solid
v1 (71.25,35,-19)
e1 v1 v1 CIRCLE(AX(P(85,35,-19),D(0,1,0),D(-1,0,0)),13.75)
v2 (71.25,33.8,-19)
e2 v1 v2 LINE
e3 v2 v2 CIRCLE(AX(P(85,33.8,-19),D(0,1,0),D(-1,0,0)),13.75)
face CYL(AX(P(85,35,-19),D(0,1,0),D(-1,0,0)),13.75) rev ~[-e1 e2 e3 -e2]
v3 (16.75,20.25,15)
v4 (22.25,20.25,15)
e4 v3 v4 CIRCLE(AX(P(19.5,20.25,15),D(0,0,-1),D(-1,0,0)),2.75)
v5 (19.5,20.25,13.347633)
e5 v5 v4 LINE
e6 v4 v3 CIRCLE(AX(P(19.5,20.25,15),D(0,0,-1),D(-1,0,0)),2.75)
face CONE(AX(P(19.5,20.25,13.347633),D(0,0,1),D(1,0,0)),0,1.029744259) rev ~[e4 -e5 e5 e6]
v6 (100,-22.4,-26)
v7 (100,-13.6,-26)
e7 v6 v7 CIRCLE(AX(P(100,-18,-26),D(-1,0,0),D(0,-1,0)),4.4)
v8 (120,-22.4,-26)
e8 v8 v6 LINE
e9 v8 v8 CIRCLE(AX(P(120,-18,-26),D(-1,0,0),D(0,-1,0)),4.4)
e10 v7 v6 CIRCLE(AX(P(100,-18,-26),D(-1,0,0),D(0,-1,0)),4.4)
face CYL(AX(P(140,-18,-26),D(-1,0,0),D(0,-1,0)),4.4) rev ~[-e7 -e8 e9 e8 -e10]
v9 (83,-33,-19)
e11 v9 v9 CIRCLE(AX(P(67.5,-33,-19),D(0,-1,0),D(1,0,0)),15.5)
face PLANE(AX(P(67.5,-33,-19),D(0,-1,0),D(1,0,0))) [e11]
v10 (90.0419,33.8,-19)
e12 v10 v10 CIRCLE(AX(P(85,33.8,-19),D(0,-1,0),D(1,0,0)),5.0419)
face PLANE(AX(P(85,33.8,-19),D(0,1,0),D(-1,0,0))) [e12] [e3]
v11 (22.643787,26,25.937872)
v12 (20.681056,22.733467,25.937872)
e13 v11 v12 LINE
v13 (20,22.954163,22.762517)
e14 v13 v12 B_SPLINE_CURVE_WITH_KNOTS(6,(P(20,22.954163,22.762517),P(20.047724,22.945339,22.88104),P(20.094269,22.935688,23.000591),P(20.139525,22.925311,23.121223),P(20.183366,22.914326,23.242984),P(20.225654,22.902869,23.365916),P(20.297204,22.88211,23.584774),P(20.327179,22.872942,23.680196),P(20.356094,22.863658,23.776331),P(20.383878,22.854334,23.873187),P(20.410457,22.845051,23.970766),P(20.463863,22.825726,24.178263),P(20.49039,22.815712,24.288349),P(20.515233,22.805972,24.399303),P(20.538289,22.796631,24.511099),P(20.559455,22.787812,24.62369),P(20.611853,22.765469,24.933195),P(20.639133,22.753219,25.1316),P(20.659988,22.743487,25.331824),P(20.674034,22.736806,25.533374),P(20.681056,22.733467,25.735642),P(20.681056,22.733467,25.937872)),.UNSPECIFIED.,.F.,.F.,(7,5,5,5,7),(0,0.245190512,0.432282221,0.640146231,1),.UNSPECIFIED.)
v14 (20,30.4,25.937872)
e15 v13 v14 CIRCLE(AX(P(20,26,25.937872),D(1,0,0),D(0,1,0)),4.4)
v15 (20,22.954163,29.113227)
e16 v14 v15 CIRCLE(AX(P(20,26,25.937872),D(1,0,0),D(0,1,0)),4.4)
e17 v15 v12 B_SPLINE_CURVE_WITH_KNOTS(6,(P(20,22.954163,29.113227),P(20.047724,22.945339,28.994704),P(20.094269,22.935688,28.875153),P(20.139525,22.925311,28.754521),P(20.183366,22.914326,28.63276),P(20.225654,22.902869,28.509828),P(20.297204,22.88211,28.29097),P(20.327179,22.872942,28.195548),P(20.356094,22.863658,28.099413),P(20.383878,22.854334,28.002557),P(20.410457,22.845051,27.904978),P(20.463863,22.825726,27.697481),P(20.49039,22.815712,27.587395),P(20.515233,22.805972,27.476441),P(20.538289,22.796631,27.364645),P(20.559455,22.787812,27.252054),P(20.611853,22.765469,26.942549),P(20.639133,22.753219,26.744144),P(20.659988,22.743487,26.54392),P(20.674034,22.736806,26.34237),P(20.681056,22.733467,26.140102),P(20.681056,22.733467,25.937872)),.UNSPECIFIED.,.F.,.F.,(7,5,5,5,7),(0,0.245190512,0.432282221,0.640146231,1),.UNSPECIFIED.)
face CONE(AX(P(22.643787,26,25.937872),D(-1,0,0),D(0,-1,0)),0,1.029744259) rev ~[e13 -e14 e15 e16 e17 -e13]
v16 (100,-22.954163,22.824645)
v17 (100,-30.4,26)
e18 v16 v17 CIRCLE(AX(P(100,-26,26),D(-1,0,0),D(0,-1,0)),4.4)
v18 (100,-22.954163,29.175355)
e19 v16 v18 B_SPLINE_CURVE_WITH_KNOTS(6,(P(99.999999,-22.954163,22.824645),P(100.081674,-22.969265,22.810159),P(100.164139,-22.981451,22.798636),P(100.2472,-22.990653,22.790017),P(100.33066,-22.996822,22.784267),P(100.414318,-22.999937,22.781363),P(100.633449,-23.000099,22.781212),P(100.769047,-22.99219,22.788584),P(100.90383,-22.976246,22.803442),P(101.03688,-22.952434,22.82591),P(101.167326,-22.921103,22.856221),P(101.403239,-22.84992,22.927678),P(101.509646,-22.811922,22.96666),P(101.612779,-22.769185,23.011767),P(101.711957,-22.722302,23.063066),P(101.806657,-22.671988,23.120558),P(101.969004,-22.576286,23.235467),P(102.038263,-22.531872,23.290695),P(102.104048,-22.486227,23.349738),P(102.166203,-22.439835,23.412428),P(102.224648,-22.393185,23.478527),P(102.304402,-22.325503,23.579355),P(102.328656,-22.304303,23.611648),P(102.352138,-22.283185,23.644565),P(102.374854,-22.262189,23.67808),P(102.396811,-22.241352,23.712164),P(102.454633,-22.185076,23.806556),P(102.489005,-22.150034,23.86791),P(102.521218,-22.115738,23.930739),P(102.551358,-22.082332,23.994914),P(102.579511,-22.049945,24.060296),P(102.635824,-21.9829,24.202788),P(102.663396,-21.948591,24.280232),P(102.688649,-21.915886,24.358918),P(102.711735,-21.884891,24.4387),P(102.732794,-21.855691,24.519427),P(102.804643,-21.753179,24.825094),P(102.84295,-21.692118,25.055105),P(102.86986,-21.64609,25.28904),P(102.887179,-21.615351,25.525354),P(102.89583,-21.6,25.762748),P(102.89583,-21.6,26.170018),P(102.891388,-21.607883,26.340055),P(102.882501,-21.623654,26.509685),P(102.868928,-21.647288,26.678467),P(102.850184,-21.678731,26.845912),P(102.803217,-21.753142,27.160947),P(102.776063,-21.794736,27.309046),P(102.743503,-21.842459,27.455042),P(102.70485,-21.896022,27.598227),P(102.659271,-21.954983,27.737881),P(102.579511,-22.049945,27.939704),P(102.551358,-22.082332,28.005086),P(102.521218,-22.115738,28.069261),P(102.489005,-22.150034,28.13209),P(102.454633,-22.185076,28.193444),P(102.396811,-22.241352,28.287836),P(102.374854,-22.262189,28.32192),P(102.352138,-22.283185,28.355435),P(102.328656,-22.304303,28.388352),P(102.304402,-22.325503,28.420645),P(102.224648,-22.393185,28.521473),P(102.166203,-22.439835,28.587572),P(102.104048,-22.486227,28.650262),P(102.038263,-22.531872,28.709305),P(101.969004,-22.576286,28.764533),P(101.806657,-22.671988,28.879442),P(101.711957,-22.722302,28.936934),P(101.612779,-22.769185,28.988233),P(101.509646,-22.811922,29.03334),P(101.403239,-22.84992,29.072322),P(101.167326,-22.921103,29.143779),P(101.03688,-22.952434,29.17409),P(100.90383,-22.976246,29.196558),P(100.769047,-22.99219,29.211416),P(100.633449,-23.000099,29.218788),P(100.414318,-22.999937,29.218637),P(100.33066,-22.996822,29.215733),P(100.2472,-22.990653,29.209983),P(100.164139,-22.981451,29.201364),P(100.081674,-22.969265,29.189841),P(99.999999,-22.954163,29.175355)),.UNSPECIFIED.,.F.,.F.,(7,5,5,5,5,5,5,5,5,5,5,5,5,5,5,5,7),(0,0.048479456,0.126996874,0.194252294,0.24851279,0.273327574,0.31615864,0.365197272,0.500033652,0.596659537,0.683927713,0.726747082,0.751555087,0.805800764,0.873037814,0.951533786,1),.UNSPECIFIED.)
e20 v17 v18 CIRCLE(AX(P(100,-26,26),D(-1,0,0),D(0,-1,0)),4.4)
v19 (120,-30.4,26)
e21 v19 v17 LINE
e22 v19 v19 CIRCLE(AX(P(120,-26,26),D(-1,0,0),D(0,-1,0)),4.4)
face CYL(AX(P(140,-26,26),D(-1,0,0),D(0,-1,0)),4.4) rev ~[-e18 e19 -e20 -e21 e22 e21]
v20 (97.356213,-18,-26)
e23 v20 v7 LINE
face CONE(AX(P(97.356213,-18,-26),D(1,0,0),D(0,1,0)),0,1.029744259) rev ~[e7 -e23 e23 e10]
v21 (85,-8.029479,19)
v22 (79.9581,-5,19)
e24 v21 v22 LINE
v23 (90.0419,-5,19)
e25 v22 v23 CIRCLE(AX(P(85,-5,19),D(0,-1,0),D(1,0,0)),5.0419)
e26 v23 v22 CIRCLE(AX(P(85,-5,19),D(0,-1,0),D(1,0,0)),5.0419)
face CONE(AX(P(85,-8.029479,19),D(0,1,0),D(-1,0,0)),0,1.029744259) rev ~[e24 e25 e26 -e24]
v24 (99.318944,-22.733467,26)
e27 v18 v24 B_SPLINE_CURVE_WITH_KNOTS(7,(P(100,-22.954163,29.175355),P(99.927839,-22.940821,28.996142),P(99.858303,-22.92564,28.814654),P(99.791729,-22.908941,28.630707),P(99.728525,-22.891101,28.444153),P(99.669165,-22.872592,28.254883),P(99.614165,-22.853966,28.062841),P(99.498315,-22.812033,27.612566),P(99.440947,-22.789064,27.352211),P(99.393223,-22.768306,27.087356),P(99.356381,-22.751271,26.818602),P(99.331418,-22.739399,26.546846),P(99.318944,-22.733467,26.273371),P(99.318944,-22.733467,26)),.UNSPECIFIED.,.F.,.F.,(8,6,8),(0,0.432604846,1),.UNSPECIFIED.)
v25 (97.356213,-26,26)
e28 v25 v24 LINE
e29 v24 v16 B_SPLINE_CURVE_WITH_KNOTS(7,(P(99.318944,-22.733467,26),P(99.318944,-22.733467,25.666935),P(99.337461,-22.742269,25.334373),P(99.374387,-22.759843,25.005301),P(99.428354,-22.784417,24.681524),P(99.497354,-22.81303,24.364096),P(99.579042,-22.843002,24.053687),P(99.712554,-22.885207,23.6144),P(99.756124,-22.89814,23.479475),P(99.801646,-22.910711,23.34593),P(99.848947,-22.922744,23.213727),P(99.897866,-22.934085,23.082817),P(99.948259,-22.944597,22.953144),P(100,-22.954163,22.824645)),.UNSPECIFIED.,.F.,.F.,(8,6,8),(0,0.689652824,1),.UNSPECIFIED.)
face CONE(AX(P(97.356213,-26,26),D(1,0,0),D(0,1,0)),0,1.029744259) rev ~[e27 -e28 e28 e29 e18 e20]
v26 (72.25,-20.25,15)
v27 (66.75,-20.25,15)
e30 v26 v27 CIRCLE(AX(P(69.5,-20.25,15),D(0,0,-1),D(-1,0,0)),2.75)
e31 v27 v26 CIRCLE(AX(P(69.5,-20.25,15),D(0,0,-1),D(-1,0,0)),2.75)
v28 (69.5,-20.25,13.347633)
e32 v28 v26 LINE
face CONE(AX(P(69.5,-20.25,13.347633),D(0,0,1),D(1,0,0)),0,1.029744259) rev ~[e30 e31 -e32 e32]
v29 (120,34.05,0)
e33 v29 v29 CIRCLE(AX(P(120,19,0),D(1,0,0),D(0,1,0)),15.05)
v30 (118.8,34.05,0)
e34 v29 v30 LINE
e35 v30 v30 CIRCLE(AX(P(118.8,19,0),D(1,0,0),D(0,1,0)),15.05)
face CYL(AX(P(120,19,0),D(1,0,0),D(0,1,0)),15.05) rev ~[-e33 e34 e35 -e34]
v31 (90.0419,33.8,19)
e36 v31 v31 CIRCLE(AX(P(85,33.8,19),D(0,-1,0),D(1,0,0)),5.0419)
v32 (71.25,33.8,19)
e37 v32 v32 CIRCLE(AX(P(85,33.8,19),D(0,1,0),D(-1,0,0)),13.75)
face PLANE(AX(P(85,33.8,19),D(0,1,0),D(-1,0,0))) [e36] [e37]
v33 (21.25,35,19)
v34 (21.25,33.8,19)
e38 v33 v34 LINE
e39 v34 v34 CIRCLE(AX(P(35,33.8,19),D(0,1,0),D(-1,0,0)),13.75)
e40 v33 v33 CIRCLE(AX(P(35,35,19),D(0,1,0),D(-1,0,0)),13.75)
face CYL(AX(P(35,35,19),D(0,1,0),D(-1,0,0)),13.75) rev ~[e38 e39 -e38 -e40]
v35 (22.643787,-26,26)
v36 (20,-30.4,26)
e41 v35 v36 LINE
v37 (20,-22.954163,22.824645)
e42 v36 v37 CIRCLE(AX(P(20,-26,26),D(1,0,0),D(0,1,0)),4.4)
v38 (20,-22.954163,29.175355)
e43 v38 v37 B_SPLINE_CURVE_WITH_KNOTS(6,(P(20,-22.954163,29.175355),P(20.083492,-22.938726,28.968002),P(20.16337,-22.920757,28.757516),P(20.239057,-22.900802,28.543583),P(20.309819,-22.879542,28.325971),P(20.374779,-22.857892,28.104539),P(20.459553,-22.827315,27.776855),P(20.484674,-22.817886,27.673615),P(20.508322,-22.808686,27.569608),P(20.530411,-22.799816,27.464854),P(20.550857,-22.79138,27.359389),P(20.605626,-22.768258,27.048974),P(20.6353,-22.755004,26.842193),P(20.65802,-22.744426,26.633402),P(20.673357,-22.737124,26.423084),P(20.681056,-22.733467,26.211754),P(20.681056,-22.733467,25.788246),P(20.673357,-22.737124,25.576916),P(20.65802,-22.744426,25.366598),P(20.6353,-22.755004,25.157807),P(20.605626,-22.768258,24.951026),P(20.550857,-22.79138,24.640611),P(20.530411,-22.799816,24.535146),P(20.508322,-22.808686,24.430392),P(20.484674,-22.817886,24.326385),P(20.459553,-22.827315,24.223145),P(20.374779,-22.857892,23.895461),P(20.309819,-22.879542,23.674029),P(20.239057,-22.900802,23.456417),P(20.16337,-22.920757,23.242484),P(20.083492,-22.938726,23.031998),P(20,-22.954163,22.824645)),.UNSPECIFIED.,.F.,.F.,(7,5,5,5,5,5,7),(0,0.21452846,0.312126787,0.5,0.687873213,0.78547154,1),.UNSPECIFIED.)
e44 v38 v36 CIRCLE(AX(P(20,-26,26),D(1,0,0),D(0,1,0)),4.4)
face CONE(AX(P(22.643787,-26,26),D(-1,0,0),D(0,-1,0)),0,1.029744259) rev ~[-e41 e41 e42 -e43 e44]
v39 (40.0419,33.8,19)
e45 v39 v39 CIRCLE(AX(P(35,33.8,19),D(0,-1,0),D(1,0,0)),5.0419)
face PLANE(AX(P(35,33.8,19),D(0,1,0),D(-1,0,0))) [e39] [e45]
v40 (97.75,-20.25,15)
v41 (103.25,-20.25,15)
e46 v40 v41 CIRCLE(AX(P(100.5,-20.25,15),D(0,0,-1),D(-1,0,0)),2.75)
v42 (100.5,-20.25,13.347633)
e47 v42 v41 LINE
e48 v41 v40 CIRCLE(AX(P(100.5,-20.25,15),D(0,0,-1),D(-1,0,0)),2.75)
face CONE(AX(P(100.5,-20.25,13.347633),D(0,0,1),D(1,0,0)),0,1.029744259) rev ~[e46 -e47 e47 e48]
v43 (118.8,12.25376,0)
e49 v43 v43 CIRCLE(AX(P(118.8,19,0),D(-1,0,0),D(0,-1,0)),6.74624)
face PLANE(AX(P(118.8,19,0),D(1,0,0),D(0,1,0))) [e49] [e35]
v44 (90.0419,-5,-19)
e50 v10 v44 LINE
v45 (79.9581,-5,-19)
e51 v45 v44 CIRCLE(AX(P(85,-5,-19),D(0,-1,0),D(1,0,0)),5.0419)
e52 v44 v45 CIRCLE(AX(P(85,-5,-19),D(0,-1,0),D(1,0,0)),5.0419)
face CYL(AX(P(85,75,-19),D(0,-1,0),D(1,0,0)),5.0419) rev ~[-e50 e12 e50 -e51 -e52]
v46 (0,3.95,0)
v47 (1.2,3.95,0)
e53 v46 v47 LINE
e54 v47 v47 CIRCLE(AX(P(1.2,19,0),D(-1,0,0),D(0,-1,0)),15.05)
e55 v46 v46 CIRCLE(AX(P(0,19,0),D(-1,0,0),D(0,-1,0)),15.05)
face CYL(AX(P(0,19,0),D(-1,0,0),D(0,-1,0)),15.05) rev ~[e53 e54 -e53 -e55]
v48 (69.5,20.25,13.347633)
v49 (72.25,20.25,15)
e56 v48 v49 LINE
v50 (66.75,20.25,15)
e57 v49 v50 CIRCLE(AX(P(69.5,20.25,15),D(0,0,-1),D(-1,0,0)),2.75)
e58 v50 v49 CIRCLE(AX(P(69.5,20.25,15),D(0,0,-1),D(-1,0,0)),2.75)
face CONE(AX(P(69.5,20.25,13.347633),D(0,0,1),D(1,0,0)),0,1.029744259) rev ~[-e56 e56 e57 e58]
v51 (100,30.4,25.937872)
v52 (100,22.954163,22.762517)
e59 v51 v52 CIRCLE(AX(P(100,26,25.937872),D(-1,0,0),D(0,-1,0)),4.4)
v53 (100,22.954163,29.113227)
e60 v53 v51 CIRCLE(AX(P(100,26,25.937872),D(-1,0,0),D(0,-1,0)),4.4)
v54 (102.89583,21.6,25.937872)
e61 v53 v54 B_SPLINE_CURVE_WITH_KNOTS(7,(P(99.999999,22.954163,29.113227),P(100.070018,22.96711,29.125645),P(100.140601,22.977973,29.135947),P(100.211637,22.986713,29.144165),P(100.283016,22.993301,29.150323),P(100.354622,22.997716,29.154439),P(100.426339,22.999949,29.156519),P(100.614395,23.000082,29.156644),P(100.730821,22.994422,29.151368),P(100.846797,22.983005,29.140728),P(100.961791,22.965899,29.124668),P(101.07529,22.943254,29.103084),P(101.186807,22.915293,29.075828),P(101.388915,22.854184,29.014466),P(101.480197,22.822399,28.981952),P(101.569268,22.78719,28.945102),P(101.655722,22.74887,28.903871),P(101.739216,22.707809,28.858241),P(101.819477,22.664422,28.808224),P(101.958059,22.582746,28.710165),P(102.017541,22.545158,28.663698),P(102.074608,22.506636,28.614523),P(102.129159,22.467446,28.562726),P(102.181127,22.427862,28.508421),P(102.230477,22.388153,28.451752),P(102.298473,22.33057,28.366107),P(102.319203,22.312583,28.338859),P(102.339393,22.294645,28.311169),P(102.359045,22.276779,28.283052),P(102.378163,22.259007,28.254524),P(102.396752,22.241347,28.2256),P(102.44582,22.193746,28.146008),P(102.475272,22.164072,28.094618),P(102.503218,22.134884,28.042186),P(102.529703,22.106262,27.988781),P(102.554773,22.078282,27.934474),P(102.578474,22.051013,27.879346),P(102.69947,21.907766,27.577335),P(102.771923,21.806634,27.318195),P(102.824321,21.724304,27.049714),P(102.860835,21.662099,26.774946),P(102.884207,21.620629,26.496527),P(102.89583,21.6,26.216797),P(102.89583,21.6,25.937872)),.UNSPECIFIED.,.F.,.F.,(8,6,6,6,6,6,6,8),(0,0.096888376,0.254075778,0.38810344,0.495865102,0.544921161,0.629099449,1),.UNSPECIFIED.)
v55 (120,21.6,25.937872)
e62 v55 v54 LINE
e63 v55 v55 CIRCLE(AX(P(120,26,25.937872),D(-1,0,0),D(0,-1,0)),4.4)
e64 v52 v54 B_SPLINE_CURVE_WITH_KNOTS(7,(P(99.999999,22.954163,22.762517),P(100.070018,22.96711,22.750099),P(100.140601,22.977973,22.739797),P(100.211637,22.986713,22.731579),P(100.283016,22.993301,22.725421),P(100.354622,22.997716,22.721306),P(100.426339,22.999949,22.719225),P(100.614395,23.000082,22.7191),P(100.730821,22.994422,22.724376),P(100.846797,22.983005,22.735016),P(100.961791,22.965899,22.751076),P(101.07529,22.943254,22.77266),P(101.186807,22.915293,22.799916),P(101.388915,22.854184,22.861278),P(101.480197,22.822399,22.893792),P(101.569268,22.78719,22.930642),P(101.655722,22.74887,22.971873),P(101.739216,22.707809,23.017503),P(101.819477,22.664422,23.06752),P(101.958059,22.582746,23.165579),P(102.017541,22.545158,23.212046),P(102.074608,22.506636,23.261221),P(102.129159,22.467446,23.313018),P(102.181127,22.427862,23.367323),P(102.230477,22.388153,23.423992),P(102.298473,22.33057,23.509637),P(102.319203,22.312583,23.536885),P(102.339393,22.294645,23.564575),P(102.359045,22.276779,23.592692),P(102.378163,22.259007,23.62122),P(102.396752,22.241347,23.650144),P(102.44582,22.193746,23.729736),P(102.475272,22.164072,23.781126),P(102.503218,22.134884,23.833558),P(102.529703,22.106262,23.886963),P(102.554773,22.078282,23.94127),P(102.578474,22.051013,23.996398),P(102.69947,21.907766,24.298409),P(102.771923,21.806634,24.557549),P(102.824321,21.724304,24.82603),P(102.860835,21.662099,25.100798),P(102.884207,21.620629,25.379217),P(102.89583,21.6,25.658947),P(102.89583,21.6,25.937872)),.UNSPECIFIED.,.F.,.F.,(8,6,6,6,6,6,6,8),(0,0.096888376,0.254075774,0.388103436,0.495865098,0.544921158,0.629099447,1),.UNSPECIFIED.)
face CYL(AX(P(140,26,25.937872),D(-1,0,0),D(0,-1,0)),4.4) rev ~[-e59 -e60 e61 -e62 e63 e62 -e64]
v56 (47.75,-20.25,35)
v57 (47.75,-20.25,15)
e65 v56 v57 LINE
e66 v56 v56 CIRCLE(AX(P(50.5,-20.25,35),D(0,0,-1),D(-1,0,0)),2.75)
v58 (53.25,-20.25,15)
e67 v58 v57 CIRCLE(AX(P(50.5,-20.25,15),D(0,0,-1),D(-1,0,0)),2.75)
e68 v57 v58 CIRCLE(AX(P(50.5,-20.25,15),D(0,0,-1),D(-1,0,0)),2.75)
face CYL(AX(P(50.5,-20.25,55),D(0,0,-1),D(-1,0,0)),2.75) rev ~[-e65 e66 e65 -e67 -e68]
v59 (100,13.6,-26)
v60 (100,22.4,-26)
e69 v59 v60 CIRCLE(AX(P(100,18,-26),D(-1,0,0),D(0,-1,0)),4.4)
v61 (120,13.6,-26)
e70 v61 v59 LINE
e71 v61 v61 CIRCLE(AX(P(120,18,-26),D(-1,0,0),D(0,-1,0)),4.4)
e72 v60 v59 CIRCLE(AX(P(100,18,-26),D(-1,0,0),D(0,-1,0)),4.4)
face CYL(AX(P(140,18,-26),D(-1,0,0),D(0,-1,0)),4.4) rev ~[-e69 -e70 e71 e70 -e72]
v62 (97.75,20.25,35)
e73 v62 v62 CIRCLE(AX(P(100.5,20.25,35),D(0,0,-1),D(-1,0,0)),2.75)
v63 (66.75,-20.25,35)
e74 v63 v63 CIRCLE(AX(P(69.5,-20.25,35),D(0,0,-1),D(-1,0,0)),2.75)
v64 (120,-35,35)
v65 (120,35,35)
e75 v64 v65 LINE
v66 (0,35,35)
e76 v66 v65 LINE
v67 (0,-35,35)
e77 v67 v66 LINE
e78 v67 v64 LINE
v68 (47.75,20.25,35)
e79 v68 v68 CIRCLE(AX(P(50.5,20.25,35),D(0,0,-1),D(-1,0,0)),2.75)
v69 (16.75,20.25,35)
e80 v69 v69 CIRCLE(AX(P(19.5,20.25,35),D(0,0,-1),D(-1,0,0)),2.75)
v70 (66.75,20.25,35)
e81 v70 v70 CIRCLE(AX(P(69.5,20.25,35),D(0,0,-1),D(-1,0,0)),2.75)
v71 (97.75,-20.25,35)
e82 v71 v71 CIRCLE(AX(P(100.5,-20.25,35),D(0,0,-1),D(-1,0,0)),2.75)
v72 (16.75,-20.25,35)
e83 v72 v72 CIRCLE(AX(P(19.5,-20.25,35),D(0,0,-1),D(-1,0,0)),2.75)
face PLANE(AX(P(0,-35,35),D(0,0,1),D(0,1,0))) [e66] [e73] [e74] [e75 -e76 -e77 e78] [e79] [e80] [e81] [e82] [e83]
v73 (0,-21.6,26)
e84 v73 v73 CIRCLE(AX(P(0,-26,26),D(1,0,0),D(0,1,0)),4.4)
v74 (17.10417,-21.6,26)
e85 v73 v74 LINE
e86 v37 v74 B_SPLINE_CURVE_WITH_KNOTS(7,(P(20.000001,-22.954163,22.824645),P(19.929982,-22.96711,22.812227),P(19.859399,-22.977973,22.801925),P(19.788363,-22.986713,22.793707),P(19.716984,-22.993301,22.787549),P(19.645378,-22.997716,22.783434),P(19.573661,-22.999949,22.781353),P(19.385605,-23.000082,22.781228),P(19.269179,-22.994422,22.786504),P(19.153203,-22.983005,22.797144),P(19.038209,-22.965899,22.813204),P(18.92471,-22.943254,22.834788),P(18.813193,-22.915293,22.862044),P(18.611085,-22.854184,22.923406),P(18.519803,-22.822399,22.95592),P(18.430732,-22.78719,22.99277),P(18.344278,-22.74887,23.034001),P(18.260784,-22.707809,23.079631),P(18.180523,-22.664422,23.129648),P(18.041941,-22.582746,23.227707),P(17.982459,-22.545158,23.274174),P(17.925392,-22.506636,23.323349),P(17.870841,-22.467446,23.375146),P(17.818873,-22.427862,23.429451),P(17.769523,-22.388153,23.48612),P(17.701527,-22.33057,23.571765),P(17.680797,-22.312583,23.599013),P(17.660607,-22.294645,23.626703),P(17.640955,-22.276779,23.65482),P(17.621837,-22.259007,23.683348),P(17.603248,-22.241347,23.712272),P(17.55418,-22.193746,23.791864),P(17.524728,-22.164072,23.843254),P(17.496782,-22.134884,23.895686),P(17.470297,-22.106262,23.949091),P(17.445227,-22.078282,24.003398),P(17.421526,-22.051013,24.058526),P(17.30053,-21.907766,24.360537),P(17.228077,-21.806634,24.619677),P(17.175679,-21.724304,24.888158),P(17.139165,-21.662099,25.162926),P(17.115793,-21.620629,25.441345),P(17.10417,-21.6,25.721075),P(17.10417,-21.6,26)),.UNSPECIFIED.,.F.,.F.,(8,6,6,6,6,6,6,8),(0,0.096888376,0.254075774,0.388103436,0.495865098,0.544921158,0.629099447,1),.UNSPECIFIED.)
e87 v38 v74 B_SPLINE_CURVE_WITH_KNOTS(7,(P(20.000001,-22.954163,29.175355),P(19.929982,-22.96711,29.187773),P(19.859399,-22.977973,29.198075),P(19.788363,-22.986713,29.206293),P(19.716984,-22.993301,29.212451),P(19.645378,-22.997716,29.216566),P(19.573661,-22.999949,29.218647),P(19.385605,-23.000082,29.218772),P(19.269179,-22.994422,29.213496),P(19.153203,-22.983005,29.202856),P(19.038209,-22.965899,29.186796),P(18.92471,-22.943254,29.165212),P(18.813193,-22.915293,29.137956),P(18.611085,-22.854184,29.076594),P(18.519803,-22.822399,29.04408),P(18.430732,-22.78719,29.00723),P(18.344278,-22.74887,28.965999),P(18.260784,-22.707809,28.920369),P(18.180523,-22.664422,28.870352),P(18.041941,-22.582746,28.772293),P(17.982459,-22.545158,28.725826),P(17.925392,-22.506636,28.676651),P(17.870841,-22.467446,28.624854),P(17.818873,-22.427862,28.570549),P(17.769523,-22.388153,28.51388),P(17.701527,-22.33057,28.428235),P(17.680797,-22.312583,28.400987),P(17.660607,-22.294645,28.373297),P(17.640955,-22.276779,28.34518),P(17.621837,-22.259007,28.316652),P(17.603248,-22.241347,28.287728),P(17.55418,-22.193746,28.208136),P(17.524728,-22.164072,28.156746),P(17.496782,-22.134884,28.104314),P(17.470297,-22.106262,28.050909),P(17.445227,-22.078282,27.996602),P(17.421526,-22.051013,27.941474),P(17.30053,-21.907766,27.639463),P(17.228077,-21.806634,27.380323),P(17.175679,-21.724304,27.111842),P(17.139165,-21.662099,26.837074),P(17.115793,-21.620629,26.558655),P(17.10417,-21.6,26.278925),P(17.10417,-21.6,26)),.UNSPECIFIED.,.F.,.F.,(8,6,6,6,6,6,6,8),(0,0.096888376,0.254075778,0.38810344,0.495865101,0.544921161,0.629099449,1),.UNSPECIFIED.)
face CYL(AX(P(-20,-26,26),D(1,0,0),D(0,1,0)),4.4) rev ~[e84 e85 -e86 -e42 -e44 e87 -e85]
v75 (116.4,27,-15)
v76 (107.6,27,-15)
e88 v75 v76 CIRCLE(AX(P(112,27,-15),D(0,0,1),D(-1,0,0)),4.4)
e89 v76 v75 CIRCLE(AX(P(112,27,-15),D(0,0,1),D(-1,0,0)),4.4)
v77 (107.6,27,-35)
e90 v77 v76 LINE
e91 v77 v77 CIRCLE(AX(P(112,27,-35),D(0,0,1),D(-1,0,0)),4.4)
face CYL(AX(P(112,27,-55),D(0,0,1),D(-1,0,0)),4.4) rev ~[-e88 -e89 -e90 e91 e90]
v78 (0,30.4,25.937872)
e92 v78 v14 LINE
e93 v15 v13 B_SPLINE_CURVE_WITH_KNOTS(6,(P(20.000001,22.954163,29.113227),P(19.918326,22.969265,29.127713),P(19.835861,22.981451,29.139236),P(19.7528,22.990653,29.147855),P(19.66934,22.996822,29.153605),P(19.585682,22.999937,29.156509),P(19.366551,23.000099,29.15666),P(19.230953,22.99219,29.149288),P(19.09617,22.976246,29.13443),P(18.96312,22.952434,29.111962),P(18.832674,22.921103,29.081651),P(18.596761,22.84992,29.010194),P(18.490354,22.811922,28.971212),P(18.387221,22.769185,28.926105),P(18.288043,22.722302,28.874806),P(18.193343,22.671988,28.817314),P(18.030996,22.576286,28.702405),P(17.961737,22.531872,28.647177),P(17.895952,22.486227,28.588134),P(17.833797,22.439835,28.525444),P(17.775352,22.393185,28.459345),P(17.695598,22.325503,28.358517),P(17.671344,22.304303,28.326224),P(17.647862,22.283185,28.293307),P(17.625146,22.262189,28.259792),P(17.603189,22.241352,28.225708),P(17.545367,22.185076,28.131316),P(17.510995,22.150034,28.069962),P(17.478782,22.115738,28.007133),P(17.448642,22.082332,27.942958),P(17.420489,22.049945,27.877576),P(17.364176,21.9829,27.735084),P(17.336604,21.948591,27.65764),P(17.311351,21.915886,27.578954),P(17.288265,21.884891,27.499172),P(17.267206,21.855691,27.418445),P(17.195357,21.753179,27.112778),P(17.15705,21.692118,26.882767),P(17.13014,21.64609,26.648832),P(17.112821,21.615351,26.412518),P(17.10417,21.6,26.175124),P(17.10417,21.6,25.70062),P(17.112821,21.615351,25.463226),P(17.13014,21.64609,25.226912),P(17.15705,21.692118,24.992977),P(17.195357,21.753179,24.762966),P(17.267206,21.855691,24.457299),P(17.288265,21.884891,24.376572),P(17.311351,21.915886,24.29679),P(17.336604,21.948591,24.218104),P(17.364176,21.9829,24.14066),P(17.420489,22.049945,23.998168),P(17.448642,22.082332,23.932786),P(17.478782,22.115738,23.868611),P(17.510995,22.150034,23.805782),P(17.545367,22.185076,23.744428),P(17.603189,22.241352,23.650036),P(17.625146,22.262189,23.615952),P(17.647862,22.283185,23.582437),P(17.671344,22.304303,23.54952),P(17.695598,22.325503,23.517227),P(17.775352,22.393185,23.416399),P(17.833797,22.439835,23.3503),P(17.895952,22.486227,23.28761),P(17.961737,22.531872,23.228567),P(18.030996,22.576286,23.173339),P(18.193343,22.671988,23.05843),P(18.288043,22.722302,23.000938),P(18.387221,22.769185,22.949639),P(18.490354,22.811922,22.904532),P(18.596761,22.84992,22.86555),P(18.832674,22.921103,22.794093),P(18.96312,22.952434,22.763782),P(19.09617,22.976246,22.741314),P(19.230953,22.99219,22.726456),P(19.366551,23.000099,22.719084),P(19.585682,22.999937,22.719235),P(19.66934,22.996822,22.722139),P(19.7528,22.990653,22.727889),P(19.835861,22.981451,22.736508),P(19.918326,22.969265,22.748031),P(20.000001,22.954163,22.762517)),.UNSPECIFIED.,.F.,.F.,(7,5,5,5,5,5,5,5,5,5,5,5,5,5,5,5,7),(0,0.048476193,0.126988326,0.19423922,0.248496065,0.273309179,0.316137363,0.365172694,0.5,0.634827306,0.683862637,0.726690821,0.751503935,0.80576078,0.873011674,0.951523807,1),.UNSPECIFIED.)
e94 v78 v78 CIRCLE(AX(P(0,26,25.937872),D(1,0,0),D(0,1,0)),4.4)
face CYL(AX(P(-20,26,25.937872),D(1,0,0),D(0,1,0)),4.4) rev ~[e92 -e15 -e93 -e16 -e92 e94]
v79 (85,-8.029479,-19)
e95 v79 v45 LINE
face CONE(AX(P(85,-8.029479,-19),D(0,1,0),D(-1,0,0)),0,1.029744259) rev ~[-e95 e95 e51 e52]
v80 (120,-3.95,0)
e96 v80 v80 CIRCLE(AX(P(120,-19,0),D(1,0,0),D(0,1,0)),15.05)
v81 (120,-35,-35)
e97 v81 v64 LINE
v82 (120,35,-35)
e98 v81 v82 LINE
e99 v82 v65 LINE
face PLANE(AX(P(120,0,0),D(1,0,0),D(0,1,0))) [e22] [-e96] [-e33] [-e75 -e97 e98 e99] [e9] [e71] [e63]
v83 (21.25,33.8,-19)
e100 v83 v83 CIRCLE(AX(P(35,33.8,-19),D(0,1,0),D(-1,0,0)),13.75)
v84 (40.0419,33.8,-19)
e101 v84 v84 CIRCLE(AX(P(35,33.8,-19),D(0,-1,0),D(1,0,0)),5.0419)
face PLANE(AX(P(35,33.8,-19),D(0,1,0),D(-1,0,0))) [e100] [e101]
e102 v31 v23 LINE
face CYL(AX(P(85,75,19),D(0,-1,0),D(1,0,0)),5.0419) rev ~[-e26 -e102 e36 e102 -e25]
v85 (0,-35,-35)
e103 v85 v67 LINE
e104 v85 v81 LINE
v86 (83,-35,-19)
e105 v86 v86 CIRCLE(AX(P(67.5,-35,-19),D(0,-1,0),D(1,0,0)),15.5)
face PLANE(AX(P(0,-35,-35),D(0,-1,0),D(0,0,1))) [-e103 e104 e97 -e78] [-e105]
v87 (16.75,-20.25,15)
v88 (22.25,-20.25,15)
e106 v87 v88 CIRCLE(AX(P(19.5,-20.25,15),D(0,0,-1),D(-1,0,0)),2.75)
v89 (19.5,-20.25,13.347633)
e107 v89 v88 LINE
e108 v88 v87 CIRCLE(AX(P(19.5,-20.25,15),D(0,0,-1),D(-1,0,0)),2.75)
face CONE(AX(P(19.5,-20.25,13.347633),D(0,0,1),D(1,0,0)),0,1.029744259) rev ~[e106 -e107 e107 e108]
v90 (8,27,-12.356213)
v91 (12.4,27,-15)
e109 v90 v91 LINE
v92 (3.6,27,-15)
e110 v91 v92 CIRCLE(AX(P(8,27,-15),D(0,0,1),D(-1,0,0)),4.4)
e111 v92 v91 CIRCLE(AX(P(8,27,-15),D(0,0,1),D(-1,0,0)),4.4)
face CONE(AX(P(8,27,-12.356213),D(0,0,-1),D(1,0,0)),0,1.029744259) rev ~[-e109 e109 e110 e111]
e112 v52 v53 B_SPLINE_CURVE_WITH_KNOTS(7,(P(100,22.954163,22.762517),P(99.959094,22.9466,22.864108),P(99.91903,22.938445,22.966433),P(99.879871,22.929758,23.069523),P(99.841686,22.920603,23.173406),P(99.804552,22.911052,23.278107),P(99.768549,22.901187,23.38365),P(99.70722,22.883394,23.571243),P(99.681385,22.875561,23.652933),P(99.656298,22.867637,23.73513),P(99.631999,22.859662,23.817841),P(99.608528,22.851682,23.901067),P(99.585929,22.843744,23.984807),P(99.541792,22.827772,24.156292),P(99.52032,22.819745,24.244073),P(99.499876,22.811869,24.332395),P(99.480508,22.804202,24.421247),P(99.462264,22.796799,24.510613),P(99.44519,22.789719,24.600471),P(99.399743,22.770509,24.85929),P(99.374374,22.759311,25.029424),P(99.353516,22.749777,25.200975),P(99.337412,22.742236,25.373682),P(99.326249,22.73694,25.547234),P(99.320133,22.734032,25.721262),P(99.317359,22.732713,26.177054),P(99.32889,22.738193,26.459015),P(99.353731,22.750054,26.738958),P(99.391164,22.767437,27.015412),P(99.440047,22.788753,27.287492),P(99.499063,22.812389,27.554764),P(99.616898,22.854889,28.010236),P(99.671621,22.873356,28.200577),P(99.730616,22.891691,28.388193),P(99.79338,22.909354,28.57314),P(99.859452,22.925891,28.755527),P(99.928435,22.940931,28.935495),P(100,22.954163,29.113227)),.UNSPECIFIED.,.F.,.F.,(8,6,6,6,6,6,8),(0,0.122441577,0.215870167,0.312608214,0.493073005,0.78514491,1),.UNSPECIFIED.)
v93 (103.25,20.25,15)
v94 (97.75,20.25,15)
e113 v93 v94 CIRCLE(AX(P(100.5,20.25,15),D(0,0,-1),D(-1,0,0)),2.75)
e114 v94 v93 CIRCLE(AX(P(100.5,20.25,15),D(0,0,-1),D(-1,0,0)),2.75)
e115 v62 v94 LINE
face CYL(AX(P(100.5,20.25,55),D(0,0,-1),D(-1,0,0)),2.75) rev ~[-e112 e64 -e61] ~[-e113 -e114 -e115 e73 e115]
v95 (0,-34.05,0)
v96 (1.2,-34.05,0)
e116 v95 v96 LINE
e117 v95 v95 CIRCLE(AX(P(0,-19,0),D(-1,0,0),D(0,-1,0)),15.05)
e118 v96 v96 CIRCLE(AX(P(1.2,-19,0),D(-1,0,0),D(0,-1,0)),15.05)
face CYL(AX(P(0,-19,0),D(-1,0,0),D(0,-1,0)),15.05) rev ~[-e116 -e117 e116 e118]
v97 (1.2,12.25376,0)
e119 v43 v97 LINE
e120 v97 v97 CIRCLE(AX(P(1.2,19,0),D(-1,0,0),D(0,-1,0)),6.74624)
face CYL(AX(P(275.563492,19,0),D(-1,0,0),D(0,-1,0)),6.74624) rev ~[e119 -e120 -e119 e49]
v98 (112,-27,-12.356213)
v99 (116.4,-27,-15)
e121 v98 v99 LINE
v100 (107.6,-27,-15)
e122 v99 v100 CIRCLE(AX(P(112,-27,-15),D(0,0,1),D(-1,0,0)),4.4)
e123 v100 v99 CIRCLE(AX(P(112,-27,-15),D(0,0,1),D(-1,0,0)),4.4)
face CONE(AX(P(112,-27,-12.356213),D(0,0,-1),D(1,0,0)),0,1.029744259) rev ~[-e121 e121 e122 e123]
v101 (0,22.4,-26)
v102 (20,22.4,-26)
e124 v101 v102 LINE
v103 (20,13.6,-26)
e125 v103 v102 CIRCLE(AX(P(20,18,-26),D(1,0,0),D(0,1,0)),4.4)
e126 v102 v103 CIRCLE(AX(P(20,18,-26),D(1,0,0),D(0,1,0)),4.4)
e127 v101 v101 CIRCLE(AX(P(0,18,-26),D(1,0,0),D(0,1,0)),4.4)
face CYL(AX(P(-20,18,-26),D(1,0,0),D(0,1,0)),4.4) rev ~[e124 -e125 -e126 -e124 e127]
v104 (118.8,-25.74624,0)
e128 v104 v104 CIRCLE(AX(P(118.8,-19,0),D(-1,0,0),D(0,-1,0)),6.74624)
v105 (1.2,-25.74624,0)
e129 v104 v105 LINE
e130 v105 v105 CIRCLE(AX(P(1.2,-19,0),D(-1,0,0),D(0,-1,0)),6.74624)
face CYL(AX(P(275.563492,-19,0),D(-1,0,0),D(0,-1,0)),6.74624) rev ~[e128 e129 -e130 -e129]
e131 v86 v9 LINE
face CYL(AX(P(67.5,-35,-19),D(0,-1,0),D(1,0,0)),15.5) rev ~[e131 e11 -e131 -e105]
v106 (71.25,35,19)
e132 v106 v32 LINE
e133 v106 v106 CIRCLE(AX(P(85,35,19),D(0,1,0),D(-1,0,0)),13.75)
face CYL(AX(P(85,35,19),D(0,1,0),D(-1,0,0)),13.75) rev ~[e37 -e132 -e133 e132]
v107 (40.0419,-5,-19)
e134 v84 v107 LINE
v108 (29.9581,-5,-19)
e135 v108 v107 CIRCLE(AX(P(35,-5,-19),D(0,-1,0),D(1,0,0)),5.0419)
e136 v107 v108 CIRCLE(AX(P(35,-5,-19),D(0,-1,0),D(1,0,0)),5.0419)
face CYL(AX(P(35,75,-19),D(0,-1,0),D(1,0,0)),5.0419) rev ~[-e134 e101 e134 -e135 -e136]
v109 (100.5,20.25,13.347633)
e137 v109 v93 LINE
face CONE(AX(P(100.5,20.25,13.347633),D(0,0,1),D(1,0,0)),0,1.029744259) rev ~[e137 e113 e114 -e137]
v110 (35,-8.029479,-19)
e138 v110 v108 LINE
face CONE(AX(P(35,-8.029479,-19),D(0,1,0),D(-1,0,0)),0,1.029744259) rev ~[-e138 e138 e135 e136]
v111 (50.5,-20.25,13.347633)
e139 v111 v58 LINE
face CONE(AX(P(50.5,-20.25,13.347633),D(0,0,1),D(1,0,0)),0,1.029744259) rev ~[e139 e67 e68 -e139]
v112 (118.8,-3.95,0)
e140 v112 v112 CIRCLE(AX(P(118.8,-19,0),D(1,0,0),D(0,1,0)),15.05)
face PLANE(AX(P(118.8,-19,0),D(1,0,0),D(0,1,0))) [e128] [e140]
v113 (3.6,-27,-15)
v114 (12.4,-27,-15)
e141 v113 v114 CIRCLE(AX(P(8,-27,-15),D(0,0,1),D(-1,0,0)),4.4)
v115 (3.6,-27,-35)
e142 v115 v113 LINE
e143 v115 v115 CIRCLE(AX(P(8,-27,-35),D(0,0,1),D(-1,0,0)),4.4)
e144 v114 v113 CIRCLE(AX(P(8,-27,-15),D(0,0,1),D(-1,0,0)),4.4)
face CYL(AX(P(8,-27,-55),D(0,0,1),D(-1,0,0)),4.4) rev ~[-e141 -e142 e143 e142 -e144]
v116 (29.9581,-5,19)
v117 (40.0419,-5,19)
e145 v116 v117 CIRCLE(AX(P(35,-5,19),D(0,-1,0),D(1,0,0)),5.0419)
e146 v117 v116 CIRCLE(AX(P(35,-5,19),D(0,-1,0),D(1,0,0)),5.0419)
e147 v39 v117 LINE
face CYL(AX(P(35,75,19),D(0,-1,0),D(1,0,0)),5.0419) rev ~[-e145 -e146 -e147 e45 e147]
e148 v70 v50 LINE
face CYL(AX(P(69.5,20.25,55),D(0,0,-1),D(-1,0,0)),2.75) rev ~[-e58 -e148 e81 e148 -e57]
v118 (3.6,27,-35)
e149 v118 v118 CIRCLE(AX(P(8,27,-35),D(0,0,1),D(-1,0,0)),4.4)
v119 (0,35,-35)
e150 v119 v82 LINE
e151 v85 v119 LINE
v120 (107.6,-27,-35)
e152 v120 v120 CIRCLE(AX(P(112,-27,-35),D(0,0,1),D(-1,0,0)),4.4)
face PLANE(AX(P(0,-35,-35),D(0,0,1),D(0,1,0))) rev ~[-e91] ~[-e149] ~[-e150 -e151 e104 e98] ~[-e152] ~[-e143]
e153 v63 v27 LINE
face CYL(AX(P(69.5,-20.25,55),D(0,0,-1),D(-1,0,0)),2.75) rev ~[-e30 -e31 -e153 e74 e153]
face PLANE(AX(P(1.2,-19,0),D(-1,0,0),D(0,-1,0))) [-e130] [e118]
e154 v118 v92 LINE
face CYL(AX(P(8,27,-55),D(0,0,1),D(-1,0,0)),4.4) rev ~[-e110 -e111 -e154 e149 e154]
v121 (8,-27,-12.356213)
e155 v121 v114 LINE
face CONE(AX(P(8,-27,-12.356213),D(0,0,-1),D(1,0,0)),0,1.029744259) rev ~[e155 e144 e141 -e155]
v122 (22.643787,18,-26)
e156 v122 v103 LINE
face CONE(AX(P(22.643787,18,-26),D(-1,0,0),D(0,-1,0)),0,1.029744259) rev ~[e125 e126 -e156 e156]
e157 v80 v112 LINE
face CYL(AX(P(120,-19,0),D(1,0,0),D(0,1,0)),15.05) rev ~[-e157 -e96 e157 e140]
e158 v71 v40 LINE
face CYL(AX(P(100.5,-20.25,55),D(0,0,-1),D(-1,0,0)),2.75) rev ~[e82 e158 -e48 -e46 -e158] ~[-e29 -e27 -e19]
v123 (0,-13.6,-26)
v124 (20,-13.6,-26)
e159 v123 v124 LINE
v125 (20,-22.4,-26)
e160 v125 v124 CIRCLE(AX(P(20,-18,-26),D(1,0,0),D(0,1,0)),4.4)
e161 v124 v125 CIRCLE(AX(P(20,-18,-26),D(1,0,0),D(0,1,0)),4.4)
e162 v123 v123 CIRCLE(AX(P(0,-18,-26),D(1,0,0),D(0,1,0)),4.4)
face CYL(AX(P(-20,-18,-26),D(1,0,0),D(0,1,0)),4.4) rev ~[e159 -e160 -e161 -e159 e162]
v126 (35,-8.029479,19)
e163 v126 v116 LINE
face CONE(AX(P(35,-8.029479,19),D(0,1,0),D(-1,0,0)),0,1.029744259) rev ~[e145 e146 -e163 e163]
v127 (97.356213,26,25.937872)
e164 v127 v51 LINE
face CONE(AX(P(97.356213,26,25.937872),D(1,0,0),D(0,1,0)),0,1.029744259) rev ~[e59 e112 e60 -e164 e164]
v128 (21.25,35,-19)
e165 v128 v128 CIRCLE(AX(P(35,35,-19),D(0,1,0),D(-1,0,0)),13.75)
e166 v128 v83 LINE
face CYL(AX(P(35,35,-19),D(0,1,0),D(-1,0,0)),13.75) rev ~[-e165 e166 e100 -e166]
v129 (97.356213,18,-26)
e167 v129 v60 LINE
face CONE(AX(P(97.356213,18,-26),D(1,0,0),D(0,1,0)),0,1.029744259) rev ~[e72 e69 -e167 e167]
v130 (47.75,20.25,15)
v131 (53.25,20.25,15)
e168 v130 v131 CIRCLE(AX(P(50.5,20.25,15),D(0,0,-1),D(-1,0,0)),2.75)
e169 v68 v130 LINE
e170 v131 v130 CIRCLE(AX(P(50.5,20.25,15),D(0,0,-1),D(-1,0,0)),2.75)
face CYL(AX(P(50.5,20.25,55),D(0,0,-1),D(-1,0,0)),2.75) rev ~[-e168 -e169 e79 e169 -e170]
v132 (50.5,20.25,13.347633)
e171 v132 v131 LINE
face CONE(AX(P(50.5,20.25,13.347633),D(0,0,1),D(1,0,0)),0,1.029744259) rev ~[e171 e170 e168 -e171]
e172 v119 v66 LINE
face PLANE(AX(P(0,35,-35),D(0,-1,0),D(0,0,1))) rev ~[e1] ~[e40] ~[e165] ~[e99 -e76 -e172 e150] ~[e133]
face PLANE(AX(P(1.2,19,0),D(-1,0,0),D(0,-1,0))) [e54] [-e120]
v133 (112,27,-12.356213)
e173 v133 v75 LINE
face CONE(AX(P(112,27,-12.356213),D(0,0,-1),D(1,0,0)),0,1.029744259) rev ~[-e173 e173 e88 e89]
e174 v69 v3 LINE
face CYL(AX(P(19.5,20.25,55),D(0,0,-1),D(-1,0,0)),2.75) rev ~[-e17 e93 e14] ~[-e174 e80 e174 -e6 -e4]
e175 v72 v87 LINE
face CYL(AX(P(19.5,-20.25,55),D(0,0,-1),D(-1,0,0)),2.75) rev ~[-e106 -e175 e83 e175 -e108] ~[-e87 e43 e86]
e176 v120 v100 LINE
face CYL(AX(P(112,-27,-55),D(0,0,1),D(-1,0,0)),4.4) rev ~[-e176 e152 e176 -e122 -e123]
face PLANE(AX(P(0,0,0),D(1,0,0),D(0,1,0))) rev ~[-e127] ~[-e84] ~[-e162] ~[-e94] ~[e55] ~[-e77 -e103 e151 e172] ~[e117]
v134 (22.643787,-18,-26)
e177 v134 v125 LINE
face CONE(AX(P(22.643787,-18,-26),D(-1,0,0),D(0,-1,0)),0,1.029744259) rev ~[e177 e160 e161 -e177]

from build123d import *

# Parameters (mm, degrees)
F0_W      = 70
F0_H      = 70
F1_DEPTH  = 120
F3_D      = 13.49248
F4_D      = 8.8
F4_DEPTH  = 20
F4_TIP    = 2.6437867237
F2_R      = 15.05
F5_DEPTH  = 1.2
F7_D      = 8.8
F7_DEPTH  = 20
F7_TIP    = 2.6437867237
F6_R      = 15.05
F8_DEPTH  = 1.2
F10_D     = 5.5
F10_DEPTH = 20
F10_TIP   = 1.6523667023
F12_D     = 8.8
F12_DEPTH = 20
F12_TIP   = 2.6437867237
F14_D     = 10.0838
F14_DEPTH = 40
F14_TIP   = 3.0294791551
F13_R     = 13.75
F15_DEPTH = 1.2
F16_R     = 15.5
F17_DEPTH = 2


with BuildPart() as f1:
    # F0 (on Right) → F1 (new body)
    with BuildSketch(Plane.YZ):
        Rectangle(F0_W, F0_H)
    extrude(amount=F1_DEPTH)

    # F3 (through all)
    with Locations(Plane.YZ.offset(120)):
        with Locations((-19, 0), (19, 0)):
            Hole(F3_D / 2)

    # F4
    with Locations(Plane.YZ.offset(120)):
        with Locations((-26, 26), (26, 25.9378720075), (-18, -26), (18, -26)):
            Hole(F4_D / 2, depth=F4_DEPTH)
            with Locations((0, 0, -(F4_DEPTH + F4_TIP / 2))):  # 118° drill point
                Cone(0, F4_D / 2, F4_TIP, mode=Mode.SUBTRACT)

    # F2 (on face) → F5 (cut)
    with BuildSketch(Plane.YZ.offset(120)):
        with Locations((-19, 0)):
            Circle(F2_R)
        with Locations((19, 0)):
            Circle(F2_R)
    extrude(amount=-F5_DEPTH, mode=Mode.SUBTRACT)

    # F7
    with Locations(Plane(origin=(0, 0, 0), x_dir=(0, -1, 0), z_dir=(-1, 0, 0))):
        with Locations((-26, 25.9378720075), (26, 26), (-18, -26), (18, -26)):
            Hole(F7_D / 2, depth=F7_DEPTH)
            with Locations((0, 0, -(F7_DEPTH + F7_TIP / 2))):  # 118° drill point
                Cone(0, F7_D / 2, F7_TIP, mode=Mode.SUBTRACT)

    # F6 (on face) → F8 (cut)
    with BuildSketch(Plane(origin=(0, 0, 0), x_dir=(0, -1, 0), z_dir=(-1, 0, 0))):
        with Locations((-19, 0)):
            Circle(F6_R)
        with Locations((19, 0)):
            Circle(F6_R)
    extrude(amount=-F8_DEPTH, mode=Mode.SUBTRACT)

    # F10
    with Locations(Plane.XY.offset(35)):
        with Locations((19.5, 20.25), (19.5, -20.25), (50.5, -20.25), (50.5, 20.25), (69.5, 20.25), (69.5, -20.25), (100.5, -20.25), (100.5, 20.25)):
            Hole(F10_D / 2, depth=F10_DEPTH)
            with Locations((0, 0, -(F10_DEPTH + F10_TIP / 2))):  # 118° drill point
                Cone(0, F10_D / 2, F10_TIP, mode=Mode.SUBTRACT)

    # F12
    with Locations(Plane(origin=(0, 0, -35), x_dir=(1, 0, 0), z_dir=(0, 0, -1))):
        with Locations((8, 27), (8, -27), (112, 27), (112, -27)):
            Hole(F12_D / 2, depth=F12_DEPTH)
            with Locations((0, 0, -(F12_DEPTH + F12_TIP / 2))):  # 118° drill point
                Cone(0, F12_D / 2, F12_TIP, mode=Mode.SUBTRACT)

    # F14
    with Locations(Plane(origin=(0, 35, 0), x_dir=(-1, 0, 0), z_dir=(0, 1, 0))):
        with Locations((-85, 19), (-35, 19), (-35, -19), (-85, -19)):
            Hole(F14_D / 2, depth=F14_DEPTH)
            with Locations((0, 0, -(F14_DEPTH + F14_TIP / 2))):  # 118° drill point
                Cone(0, F14_D / 2, F14_TIP, mode=Mode.SUBTRACT)

    # F13 (on face) → F15 (cut)
    with BuildSketch(Plane(origin=(0, 35, 0), x_dir=(-1, 0, 0), z_dir=(0, 1, 0))):
        with Locations((-85, 19)):
            Circle(F13_R)
        with Locations((-85, -19)):
            Circle(F13_R)
        with Locations((-35, 19)):
            Circle(F13_R)
        with Locations((-35, -19)):
            Circle(F13_R)
    extrude(amount=-F15_DEPTH, mode=Mode.SUBTRACT)

    # F16 (on face) → F17 (cut)
    with BuildSketch(Plane.XZ.offset(35)):
        with Locations((67.5, -19)):
            Circle(F16_R)
    extrude(amount=-F17_DEPTH, mode=Mode.SUBTRACT)


solid = f1.part
